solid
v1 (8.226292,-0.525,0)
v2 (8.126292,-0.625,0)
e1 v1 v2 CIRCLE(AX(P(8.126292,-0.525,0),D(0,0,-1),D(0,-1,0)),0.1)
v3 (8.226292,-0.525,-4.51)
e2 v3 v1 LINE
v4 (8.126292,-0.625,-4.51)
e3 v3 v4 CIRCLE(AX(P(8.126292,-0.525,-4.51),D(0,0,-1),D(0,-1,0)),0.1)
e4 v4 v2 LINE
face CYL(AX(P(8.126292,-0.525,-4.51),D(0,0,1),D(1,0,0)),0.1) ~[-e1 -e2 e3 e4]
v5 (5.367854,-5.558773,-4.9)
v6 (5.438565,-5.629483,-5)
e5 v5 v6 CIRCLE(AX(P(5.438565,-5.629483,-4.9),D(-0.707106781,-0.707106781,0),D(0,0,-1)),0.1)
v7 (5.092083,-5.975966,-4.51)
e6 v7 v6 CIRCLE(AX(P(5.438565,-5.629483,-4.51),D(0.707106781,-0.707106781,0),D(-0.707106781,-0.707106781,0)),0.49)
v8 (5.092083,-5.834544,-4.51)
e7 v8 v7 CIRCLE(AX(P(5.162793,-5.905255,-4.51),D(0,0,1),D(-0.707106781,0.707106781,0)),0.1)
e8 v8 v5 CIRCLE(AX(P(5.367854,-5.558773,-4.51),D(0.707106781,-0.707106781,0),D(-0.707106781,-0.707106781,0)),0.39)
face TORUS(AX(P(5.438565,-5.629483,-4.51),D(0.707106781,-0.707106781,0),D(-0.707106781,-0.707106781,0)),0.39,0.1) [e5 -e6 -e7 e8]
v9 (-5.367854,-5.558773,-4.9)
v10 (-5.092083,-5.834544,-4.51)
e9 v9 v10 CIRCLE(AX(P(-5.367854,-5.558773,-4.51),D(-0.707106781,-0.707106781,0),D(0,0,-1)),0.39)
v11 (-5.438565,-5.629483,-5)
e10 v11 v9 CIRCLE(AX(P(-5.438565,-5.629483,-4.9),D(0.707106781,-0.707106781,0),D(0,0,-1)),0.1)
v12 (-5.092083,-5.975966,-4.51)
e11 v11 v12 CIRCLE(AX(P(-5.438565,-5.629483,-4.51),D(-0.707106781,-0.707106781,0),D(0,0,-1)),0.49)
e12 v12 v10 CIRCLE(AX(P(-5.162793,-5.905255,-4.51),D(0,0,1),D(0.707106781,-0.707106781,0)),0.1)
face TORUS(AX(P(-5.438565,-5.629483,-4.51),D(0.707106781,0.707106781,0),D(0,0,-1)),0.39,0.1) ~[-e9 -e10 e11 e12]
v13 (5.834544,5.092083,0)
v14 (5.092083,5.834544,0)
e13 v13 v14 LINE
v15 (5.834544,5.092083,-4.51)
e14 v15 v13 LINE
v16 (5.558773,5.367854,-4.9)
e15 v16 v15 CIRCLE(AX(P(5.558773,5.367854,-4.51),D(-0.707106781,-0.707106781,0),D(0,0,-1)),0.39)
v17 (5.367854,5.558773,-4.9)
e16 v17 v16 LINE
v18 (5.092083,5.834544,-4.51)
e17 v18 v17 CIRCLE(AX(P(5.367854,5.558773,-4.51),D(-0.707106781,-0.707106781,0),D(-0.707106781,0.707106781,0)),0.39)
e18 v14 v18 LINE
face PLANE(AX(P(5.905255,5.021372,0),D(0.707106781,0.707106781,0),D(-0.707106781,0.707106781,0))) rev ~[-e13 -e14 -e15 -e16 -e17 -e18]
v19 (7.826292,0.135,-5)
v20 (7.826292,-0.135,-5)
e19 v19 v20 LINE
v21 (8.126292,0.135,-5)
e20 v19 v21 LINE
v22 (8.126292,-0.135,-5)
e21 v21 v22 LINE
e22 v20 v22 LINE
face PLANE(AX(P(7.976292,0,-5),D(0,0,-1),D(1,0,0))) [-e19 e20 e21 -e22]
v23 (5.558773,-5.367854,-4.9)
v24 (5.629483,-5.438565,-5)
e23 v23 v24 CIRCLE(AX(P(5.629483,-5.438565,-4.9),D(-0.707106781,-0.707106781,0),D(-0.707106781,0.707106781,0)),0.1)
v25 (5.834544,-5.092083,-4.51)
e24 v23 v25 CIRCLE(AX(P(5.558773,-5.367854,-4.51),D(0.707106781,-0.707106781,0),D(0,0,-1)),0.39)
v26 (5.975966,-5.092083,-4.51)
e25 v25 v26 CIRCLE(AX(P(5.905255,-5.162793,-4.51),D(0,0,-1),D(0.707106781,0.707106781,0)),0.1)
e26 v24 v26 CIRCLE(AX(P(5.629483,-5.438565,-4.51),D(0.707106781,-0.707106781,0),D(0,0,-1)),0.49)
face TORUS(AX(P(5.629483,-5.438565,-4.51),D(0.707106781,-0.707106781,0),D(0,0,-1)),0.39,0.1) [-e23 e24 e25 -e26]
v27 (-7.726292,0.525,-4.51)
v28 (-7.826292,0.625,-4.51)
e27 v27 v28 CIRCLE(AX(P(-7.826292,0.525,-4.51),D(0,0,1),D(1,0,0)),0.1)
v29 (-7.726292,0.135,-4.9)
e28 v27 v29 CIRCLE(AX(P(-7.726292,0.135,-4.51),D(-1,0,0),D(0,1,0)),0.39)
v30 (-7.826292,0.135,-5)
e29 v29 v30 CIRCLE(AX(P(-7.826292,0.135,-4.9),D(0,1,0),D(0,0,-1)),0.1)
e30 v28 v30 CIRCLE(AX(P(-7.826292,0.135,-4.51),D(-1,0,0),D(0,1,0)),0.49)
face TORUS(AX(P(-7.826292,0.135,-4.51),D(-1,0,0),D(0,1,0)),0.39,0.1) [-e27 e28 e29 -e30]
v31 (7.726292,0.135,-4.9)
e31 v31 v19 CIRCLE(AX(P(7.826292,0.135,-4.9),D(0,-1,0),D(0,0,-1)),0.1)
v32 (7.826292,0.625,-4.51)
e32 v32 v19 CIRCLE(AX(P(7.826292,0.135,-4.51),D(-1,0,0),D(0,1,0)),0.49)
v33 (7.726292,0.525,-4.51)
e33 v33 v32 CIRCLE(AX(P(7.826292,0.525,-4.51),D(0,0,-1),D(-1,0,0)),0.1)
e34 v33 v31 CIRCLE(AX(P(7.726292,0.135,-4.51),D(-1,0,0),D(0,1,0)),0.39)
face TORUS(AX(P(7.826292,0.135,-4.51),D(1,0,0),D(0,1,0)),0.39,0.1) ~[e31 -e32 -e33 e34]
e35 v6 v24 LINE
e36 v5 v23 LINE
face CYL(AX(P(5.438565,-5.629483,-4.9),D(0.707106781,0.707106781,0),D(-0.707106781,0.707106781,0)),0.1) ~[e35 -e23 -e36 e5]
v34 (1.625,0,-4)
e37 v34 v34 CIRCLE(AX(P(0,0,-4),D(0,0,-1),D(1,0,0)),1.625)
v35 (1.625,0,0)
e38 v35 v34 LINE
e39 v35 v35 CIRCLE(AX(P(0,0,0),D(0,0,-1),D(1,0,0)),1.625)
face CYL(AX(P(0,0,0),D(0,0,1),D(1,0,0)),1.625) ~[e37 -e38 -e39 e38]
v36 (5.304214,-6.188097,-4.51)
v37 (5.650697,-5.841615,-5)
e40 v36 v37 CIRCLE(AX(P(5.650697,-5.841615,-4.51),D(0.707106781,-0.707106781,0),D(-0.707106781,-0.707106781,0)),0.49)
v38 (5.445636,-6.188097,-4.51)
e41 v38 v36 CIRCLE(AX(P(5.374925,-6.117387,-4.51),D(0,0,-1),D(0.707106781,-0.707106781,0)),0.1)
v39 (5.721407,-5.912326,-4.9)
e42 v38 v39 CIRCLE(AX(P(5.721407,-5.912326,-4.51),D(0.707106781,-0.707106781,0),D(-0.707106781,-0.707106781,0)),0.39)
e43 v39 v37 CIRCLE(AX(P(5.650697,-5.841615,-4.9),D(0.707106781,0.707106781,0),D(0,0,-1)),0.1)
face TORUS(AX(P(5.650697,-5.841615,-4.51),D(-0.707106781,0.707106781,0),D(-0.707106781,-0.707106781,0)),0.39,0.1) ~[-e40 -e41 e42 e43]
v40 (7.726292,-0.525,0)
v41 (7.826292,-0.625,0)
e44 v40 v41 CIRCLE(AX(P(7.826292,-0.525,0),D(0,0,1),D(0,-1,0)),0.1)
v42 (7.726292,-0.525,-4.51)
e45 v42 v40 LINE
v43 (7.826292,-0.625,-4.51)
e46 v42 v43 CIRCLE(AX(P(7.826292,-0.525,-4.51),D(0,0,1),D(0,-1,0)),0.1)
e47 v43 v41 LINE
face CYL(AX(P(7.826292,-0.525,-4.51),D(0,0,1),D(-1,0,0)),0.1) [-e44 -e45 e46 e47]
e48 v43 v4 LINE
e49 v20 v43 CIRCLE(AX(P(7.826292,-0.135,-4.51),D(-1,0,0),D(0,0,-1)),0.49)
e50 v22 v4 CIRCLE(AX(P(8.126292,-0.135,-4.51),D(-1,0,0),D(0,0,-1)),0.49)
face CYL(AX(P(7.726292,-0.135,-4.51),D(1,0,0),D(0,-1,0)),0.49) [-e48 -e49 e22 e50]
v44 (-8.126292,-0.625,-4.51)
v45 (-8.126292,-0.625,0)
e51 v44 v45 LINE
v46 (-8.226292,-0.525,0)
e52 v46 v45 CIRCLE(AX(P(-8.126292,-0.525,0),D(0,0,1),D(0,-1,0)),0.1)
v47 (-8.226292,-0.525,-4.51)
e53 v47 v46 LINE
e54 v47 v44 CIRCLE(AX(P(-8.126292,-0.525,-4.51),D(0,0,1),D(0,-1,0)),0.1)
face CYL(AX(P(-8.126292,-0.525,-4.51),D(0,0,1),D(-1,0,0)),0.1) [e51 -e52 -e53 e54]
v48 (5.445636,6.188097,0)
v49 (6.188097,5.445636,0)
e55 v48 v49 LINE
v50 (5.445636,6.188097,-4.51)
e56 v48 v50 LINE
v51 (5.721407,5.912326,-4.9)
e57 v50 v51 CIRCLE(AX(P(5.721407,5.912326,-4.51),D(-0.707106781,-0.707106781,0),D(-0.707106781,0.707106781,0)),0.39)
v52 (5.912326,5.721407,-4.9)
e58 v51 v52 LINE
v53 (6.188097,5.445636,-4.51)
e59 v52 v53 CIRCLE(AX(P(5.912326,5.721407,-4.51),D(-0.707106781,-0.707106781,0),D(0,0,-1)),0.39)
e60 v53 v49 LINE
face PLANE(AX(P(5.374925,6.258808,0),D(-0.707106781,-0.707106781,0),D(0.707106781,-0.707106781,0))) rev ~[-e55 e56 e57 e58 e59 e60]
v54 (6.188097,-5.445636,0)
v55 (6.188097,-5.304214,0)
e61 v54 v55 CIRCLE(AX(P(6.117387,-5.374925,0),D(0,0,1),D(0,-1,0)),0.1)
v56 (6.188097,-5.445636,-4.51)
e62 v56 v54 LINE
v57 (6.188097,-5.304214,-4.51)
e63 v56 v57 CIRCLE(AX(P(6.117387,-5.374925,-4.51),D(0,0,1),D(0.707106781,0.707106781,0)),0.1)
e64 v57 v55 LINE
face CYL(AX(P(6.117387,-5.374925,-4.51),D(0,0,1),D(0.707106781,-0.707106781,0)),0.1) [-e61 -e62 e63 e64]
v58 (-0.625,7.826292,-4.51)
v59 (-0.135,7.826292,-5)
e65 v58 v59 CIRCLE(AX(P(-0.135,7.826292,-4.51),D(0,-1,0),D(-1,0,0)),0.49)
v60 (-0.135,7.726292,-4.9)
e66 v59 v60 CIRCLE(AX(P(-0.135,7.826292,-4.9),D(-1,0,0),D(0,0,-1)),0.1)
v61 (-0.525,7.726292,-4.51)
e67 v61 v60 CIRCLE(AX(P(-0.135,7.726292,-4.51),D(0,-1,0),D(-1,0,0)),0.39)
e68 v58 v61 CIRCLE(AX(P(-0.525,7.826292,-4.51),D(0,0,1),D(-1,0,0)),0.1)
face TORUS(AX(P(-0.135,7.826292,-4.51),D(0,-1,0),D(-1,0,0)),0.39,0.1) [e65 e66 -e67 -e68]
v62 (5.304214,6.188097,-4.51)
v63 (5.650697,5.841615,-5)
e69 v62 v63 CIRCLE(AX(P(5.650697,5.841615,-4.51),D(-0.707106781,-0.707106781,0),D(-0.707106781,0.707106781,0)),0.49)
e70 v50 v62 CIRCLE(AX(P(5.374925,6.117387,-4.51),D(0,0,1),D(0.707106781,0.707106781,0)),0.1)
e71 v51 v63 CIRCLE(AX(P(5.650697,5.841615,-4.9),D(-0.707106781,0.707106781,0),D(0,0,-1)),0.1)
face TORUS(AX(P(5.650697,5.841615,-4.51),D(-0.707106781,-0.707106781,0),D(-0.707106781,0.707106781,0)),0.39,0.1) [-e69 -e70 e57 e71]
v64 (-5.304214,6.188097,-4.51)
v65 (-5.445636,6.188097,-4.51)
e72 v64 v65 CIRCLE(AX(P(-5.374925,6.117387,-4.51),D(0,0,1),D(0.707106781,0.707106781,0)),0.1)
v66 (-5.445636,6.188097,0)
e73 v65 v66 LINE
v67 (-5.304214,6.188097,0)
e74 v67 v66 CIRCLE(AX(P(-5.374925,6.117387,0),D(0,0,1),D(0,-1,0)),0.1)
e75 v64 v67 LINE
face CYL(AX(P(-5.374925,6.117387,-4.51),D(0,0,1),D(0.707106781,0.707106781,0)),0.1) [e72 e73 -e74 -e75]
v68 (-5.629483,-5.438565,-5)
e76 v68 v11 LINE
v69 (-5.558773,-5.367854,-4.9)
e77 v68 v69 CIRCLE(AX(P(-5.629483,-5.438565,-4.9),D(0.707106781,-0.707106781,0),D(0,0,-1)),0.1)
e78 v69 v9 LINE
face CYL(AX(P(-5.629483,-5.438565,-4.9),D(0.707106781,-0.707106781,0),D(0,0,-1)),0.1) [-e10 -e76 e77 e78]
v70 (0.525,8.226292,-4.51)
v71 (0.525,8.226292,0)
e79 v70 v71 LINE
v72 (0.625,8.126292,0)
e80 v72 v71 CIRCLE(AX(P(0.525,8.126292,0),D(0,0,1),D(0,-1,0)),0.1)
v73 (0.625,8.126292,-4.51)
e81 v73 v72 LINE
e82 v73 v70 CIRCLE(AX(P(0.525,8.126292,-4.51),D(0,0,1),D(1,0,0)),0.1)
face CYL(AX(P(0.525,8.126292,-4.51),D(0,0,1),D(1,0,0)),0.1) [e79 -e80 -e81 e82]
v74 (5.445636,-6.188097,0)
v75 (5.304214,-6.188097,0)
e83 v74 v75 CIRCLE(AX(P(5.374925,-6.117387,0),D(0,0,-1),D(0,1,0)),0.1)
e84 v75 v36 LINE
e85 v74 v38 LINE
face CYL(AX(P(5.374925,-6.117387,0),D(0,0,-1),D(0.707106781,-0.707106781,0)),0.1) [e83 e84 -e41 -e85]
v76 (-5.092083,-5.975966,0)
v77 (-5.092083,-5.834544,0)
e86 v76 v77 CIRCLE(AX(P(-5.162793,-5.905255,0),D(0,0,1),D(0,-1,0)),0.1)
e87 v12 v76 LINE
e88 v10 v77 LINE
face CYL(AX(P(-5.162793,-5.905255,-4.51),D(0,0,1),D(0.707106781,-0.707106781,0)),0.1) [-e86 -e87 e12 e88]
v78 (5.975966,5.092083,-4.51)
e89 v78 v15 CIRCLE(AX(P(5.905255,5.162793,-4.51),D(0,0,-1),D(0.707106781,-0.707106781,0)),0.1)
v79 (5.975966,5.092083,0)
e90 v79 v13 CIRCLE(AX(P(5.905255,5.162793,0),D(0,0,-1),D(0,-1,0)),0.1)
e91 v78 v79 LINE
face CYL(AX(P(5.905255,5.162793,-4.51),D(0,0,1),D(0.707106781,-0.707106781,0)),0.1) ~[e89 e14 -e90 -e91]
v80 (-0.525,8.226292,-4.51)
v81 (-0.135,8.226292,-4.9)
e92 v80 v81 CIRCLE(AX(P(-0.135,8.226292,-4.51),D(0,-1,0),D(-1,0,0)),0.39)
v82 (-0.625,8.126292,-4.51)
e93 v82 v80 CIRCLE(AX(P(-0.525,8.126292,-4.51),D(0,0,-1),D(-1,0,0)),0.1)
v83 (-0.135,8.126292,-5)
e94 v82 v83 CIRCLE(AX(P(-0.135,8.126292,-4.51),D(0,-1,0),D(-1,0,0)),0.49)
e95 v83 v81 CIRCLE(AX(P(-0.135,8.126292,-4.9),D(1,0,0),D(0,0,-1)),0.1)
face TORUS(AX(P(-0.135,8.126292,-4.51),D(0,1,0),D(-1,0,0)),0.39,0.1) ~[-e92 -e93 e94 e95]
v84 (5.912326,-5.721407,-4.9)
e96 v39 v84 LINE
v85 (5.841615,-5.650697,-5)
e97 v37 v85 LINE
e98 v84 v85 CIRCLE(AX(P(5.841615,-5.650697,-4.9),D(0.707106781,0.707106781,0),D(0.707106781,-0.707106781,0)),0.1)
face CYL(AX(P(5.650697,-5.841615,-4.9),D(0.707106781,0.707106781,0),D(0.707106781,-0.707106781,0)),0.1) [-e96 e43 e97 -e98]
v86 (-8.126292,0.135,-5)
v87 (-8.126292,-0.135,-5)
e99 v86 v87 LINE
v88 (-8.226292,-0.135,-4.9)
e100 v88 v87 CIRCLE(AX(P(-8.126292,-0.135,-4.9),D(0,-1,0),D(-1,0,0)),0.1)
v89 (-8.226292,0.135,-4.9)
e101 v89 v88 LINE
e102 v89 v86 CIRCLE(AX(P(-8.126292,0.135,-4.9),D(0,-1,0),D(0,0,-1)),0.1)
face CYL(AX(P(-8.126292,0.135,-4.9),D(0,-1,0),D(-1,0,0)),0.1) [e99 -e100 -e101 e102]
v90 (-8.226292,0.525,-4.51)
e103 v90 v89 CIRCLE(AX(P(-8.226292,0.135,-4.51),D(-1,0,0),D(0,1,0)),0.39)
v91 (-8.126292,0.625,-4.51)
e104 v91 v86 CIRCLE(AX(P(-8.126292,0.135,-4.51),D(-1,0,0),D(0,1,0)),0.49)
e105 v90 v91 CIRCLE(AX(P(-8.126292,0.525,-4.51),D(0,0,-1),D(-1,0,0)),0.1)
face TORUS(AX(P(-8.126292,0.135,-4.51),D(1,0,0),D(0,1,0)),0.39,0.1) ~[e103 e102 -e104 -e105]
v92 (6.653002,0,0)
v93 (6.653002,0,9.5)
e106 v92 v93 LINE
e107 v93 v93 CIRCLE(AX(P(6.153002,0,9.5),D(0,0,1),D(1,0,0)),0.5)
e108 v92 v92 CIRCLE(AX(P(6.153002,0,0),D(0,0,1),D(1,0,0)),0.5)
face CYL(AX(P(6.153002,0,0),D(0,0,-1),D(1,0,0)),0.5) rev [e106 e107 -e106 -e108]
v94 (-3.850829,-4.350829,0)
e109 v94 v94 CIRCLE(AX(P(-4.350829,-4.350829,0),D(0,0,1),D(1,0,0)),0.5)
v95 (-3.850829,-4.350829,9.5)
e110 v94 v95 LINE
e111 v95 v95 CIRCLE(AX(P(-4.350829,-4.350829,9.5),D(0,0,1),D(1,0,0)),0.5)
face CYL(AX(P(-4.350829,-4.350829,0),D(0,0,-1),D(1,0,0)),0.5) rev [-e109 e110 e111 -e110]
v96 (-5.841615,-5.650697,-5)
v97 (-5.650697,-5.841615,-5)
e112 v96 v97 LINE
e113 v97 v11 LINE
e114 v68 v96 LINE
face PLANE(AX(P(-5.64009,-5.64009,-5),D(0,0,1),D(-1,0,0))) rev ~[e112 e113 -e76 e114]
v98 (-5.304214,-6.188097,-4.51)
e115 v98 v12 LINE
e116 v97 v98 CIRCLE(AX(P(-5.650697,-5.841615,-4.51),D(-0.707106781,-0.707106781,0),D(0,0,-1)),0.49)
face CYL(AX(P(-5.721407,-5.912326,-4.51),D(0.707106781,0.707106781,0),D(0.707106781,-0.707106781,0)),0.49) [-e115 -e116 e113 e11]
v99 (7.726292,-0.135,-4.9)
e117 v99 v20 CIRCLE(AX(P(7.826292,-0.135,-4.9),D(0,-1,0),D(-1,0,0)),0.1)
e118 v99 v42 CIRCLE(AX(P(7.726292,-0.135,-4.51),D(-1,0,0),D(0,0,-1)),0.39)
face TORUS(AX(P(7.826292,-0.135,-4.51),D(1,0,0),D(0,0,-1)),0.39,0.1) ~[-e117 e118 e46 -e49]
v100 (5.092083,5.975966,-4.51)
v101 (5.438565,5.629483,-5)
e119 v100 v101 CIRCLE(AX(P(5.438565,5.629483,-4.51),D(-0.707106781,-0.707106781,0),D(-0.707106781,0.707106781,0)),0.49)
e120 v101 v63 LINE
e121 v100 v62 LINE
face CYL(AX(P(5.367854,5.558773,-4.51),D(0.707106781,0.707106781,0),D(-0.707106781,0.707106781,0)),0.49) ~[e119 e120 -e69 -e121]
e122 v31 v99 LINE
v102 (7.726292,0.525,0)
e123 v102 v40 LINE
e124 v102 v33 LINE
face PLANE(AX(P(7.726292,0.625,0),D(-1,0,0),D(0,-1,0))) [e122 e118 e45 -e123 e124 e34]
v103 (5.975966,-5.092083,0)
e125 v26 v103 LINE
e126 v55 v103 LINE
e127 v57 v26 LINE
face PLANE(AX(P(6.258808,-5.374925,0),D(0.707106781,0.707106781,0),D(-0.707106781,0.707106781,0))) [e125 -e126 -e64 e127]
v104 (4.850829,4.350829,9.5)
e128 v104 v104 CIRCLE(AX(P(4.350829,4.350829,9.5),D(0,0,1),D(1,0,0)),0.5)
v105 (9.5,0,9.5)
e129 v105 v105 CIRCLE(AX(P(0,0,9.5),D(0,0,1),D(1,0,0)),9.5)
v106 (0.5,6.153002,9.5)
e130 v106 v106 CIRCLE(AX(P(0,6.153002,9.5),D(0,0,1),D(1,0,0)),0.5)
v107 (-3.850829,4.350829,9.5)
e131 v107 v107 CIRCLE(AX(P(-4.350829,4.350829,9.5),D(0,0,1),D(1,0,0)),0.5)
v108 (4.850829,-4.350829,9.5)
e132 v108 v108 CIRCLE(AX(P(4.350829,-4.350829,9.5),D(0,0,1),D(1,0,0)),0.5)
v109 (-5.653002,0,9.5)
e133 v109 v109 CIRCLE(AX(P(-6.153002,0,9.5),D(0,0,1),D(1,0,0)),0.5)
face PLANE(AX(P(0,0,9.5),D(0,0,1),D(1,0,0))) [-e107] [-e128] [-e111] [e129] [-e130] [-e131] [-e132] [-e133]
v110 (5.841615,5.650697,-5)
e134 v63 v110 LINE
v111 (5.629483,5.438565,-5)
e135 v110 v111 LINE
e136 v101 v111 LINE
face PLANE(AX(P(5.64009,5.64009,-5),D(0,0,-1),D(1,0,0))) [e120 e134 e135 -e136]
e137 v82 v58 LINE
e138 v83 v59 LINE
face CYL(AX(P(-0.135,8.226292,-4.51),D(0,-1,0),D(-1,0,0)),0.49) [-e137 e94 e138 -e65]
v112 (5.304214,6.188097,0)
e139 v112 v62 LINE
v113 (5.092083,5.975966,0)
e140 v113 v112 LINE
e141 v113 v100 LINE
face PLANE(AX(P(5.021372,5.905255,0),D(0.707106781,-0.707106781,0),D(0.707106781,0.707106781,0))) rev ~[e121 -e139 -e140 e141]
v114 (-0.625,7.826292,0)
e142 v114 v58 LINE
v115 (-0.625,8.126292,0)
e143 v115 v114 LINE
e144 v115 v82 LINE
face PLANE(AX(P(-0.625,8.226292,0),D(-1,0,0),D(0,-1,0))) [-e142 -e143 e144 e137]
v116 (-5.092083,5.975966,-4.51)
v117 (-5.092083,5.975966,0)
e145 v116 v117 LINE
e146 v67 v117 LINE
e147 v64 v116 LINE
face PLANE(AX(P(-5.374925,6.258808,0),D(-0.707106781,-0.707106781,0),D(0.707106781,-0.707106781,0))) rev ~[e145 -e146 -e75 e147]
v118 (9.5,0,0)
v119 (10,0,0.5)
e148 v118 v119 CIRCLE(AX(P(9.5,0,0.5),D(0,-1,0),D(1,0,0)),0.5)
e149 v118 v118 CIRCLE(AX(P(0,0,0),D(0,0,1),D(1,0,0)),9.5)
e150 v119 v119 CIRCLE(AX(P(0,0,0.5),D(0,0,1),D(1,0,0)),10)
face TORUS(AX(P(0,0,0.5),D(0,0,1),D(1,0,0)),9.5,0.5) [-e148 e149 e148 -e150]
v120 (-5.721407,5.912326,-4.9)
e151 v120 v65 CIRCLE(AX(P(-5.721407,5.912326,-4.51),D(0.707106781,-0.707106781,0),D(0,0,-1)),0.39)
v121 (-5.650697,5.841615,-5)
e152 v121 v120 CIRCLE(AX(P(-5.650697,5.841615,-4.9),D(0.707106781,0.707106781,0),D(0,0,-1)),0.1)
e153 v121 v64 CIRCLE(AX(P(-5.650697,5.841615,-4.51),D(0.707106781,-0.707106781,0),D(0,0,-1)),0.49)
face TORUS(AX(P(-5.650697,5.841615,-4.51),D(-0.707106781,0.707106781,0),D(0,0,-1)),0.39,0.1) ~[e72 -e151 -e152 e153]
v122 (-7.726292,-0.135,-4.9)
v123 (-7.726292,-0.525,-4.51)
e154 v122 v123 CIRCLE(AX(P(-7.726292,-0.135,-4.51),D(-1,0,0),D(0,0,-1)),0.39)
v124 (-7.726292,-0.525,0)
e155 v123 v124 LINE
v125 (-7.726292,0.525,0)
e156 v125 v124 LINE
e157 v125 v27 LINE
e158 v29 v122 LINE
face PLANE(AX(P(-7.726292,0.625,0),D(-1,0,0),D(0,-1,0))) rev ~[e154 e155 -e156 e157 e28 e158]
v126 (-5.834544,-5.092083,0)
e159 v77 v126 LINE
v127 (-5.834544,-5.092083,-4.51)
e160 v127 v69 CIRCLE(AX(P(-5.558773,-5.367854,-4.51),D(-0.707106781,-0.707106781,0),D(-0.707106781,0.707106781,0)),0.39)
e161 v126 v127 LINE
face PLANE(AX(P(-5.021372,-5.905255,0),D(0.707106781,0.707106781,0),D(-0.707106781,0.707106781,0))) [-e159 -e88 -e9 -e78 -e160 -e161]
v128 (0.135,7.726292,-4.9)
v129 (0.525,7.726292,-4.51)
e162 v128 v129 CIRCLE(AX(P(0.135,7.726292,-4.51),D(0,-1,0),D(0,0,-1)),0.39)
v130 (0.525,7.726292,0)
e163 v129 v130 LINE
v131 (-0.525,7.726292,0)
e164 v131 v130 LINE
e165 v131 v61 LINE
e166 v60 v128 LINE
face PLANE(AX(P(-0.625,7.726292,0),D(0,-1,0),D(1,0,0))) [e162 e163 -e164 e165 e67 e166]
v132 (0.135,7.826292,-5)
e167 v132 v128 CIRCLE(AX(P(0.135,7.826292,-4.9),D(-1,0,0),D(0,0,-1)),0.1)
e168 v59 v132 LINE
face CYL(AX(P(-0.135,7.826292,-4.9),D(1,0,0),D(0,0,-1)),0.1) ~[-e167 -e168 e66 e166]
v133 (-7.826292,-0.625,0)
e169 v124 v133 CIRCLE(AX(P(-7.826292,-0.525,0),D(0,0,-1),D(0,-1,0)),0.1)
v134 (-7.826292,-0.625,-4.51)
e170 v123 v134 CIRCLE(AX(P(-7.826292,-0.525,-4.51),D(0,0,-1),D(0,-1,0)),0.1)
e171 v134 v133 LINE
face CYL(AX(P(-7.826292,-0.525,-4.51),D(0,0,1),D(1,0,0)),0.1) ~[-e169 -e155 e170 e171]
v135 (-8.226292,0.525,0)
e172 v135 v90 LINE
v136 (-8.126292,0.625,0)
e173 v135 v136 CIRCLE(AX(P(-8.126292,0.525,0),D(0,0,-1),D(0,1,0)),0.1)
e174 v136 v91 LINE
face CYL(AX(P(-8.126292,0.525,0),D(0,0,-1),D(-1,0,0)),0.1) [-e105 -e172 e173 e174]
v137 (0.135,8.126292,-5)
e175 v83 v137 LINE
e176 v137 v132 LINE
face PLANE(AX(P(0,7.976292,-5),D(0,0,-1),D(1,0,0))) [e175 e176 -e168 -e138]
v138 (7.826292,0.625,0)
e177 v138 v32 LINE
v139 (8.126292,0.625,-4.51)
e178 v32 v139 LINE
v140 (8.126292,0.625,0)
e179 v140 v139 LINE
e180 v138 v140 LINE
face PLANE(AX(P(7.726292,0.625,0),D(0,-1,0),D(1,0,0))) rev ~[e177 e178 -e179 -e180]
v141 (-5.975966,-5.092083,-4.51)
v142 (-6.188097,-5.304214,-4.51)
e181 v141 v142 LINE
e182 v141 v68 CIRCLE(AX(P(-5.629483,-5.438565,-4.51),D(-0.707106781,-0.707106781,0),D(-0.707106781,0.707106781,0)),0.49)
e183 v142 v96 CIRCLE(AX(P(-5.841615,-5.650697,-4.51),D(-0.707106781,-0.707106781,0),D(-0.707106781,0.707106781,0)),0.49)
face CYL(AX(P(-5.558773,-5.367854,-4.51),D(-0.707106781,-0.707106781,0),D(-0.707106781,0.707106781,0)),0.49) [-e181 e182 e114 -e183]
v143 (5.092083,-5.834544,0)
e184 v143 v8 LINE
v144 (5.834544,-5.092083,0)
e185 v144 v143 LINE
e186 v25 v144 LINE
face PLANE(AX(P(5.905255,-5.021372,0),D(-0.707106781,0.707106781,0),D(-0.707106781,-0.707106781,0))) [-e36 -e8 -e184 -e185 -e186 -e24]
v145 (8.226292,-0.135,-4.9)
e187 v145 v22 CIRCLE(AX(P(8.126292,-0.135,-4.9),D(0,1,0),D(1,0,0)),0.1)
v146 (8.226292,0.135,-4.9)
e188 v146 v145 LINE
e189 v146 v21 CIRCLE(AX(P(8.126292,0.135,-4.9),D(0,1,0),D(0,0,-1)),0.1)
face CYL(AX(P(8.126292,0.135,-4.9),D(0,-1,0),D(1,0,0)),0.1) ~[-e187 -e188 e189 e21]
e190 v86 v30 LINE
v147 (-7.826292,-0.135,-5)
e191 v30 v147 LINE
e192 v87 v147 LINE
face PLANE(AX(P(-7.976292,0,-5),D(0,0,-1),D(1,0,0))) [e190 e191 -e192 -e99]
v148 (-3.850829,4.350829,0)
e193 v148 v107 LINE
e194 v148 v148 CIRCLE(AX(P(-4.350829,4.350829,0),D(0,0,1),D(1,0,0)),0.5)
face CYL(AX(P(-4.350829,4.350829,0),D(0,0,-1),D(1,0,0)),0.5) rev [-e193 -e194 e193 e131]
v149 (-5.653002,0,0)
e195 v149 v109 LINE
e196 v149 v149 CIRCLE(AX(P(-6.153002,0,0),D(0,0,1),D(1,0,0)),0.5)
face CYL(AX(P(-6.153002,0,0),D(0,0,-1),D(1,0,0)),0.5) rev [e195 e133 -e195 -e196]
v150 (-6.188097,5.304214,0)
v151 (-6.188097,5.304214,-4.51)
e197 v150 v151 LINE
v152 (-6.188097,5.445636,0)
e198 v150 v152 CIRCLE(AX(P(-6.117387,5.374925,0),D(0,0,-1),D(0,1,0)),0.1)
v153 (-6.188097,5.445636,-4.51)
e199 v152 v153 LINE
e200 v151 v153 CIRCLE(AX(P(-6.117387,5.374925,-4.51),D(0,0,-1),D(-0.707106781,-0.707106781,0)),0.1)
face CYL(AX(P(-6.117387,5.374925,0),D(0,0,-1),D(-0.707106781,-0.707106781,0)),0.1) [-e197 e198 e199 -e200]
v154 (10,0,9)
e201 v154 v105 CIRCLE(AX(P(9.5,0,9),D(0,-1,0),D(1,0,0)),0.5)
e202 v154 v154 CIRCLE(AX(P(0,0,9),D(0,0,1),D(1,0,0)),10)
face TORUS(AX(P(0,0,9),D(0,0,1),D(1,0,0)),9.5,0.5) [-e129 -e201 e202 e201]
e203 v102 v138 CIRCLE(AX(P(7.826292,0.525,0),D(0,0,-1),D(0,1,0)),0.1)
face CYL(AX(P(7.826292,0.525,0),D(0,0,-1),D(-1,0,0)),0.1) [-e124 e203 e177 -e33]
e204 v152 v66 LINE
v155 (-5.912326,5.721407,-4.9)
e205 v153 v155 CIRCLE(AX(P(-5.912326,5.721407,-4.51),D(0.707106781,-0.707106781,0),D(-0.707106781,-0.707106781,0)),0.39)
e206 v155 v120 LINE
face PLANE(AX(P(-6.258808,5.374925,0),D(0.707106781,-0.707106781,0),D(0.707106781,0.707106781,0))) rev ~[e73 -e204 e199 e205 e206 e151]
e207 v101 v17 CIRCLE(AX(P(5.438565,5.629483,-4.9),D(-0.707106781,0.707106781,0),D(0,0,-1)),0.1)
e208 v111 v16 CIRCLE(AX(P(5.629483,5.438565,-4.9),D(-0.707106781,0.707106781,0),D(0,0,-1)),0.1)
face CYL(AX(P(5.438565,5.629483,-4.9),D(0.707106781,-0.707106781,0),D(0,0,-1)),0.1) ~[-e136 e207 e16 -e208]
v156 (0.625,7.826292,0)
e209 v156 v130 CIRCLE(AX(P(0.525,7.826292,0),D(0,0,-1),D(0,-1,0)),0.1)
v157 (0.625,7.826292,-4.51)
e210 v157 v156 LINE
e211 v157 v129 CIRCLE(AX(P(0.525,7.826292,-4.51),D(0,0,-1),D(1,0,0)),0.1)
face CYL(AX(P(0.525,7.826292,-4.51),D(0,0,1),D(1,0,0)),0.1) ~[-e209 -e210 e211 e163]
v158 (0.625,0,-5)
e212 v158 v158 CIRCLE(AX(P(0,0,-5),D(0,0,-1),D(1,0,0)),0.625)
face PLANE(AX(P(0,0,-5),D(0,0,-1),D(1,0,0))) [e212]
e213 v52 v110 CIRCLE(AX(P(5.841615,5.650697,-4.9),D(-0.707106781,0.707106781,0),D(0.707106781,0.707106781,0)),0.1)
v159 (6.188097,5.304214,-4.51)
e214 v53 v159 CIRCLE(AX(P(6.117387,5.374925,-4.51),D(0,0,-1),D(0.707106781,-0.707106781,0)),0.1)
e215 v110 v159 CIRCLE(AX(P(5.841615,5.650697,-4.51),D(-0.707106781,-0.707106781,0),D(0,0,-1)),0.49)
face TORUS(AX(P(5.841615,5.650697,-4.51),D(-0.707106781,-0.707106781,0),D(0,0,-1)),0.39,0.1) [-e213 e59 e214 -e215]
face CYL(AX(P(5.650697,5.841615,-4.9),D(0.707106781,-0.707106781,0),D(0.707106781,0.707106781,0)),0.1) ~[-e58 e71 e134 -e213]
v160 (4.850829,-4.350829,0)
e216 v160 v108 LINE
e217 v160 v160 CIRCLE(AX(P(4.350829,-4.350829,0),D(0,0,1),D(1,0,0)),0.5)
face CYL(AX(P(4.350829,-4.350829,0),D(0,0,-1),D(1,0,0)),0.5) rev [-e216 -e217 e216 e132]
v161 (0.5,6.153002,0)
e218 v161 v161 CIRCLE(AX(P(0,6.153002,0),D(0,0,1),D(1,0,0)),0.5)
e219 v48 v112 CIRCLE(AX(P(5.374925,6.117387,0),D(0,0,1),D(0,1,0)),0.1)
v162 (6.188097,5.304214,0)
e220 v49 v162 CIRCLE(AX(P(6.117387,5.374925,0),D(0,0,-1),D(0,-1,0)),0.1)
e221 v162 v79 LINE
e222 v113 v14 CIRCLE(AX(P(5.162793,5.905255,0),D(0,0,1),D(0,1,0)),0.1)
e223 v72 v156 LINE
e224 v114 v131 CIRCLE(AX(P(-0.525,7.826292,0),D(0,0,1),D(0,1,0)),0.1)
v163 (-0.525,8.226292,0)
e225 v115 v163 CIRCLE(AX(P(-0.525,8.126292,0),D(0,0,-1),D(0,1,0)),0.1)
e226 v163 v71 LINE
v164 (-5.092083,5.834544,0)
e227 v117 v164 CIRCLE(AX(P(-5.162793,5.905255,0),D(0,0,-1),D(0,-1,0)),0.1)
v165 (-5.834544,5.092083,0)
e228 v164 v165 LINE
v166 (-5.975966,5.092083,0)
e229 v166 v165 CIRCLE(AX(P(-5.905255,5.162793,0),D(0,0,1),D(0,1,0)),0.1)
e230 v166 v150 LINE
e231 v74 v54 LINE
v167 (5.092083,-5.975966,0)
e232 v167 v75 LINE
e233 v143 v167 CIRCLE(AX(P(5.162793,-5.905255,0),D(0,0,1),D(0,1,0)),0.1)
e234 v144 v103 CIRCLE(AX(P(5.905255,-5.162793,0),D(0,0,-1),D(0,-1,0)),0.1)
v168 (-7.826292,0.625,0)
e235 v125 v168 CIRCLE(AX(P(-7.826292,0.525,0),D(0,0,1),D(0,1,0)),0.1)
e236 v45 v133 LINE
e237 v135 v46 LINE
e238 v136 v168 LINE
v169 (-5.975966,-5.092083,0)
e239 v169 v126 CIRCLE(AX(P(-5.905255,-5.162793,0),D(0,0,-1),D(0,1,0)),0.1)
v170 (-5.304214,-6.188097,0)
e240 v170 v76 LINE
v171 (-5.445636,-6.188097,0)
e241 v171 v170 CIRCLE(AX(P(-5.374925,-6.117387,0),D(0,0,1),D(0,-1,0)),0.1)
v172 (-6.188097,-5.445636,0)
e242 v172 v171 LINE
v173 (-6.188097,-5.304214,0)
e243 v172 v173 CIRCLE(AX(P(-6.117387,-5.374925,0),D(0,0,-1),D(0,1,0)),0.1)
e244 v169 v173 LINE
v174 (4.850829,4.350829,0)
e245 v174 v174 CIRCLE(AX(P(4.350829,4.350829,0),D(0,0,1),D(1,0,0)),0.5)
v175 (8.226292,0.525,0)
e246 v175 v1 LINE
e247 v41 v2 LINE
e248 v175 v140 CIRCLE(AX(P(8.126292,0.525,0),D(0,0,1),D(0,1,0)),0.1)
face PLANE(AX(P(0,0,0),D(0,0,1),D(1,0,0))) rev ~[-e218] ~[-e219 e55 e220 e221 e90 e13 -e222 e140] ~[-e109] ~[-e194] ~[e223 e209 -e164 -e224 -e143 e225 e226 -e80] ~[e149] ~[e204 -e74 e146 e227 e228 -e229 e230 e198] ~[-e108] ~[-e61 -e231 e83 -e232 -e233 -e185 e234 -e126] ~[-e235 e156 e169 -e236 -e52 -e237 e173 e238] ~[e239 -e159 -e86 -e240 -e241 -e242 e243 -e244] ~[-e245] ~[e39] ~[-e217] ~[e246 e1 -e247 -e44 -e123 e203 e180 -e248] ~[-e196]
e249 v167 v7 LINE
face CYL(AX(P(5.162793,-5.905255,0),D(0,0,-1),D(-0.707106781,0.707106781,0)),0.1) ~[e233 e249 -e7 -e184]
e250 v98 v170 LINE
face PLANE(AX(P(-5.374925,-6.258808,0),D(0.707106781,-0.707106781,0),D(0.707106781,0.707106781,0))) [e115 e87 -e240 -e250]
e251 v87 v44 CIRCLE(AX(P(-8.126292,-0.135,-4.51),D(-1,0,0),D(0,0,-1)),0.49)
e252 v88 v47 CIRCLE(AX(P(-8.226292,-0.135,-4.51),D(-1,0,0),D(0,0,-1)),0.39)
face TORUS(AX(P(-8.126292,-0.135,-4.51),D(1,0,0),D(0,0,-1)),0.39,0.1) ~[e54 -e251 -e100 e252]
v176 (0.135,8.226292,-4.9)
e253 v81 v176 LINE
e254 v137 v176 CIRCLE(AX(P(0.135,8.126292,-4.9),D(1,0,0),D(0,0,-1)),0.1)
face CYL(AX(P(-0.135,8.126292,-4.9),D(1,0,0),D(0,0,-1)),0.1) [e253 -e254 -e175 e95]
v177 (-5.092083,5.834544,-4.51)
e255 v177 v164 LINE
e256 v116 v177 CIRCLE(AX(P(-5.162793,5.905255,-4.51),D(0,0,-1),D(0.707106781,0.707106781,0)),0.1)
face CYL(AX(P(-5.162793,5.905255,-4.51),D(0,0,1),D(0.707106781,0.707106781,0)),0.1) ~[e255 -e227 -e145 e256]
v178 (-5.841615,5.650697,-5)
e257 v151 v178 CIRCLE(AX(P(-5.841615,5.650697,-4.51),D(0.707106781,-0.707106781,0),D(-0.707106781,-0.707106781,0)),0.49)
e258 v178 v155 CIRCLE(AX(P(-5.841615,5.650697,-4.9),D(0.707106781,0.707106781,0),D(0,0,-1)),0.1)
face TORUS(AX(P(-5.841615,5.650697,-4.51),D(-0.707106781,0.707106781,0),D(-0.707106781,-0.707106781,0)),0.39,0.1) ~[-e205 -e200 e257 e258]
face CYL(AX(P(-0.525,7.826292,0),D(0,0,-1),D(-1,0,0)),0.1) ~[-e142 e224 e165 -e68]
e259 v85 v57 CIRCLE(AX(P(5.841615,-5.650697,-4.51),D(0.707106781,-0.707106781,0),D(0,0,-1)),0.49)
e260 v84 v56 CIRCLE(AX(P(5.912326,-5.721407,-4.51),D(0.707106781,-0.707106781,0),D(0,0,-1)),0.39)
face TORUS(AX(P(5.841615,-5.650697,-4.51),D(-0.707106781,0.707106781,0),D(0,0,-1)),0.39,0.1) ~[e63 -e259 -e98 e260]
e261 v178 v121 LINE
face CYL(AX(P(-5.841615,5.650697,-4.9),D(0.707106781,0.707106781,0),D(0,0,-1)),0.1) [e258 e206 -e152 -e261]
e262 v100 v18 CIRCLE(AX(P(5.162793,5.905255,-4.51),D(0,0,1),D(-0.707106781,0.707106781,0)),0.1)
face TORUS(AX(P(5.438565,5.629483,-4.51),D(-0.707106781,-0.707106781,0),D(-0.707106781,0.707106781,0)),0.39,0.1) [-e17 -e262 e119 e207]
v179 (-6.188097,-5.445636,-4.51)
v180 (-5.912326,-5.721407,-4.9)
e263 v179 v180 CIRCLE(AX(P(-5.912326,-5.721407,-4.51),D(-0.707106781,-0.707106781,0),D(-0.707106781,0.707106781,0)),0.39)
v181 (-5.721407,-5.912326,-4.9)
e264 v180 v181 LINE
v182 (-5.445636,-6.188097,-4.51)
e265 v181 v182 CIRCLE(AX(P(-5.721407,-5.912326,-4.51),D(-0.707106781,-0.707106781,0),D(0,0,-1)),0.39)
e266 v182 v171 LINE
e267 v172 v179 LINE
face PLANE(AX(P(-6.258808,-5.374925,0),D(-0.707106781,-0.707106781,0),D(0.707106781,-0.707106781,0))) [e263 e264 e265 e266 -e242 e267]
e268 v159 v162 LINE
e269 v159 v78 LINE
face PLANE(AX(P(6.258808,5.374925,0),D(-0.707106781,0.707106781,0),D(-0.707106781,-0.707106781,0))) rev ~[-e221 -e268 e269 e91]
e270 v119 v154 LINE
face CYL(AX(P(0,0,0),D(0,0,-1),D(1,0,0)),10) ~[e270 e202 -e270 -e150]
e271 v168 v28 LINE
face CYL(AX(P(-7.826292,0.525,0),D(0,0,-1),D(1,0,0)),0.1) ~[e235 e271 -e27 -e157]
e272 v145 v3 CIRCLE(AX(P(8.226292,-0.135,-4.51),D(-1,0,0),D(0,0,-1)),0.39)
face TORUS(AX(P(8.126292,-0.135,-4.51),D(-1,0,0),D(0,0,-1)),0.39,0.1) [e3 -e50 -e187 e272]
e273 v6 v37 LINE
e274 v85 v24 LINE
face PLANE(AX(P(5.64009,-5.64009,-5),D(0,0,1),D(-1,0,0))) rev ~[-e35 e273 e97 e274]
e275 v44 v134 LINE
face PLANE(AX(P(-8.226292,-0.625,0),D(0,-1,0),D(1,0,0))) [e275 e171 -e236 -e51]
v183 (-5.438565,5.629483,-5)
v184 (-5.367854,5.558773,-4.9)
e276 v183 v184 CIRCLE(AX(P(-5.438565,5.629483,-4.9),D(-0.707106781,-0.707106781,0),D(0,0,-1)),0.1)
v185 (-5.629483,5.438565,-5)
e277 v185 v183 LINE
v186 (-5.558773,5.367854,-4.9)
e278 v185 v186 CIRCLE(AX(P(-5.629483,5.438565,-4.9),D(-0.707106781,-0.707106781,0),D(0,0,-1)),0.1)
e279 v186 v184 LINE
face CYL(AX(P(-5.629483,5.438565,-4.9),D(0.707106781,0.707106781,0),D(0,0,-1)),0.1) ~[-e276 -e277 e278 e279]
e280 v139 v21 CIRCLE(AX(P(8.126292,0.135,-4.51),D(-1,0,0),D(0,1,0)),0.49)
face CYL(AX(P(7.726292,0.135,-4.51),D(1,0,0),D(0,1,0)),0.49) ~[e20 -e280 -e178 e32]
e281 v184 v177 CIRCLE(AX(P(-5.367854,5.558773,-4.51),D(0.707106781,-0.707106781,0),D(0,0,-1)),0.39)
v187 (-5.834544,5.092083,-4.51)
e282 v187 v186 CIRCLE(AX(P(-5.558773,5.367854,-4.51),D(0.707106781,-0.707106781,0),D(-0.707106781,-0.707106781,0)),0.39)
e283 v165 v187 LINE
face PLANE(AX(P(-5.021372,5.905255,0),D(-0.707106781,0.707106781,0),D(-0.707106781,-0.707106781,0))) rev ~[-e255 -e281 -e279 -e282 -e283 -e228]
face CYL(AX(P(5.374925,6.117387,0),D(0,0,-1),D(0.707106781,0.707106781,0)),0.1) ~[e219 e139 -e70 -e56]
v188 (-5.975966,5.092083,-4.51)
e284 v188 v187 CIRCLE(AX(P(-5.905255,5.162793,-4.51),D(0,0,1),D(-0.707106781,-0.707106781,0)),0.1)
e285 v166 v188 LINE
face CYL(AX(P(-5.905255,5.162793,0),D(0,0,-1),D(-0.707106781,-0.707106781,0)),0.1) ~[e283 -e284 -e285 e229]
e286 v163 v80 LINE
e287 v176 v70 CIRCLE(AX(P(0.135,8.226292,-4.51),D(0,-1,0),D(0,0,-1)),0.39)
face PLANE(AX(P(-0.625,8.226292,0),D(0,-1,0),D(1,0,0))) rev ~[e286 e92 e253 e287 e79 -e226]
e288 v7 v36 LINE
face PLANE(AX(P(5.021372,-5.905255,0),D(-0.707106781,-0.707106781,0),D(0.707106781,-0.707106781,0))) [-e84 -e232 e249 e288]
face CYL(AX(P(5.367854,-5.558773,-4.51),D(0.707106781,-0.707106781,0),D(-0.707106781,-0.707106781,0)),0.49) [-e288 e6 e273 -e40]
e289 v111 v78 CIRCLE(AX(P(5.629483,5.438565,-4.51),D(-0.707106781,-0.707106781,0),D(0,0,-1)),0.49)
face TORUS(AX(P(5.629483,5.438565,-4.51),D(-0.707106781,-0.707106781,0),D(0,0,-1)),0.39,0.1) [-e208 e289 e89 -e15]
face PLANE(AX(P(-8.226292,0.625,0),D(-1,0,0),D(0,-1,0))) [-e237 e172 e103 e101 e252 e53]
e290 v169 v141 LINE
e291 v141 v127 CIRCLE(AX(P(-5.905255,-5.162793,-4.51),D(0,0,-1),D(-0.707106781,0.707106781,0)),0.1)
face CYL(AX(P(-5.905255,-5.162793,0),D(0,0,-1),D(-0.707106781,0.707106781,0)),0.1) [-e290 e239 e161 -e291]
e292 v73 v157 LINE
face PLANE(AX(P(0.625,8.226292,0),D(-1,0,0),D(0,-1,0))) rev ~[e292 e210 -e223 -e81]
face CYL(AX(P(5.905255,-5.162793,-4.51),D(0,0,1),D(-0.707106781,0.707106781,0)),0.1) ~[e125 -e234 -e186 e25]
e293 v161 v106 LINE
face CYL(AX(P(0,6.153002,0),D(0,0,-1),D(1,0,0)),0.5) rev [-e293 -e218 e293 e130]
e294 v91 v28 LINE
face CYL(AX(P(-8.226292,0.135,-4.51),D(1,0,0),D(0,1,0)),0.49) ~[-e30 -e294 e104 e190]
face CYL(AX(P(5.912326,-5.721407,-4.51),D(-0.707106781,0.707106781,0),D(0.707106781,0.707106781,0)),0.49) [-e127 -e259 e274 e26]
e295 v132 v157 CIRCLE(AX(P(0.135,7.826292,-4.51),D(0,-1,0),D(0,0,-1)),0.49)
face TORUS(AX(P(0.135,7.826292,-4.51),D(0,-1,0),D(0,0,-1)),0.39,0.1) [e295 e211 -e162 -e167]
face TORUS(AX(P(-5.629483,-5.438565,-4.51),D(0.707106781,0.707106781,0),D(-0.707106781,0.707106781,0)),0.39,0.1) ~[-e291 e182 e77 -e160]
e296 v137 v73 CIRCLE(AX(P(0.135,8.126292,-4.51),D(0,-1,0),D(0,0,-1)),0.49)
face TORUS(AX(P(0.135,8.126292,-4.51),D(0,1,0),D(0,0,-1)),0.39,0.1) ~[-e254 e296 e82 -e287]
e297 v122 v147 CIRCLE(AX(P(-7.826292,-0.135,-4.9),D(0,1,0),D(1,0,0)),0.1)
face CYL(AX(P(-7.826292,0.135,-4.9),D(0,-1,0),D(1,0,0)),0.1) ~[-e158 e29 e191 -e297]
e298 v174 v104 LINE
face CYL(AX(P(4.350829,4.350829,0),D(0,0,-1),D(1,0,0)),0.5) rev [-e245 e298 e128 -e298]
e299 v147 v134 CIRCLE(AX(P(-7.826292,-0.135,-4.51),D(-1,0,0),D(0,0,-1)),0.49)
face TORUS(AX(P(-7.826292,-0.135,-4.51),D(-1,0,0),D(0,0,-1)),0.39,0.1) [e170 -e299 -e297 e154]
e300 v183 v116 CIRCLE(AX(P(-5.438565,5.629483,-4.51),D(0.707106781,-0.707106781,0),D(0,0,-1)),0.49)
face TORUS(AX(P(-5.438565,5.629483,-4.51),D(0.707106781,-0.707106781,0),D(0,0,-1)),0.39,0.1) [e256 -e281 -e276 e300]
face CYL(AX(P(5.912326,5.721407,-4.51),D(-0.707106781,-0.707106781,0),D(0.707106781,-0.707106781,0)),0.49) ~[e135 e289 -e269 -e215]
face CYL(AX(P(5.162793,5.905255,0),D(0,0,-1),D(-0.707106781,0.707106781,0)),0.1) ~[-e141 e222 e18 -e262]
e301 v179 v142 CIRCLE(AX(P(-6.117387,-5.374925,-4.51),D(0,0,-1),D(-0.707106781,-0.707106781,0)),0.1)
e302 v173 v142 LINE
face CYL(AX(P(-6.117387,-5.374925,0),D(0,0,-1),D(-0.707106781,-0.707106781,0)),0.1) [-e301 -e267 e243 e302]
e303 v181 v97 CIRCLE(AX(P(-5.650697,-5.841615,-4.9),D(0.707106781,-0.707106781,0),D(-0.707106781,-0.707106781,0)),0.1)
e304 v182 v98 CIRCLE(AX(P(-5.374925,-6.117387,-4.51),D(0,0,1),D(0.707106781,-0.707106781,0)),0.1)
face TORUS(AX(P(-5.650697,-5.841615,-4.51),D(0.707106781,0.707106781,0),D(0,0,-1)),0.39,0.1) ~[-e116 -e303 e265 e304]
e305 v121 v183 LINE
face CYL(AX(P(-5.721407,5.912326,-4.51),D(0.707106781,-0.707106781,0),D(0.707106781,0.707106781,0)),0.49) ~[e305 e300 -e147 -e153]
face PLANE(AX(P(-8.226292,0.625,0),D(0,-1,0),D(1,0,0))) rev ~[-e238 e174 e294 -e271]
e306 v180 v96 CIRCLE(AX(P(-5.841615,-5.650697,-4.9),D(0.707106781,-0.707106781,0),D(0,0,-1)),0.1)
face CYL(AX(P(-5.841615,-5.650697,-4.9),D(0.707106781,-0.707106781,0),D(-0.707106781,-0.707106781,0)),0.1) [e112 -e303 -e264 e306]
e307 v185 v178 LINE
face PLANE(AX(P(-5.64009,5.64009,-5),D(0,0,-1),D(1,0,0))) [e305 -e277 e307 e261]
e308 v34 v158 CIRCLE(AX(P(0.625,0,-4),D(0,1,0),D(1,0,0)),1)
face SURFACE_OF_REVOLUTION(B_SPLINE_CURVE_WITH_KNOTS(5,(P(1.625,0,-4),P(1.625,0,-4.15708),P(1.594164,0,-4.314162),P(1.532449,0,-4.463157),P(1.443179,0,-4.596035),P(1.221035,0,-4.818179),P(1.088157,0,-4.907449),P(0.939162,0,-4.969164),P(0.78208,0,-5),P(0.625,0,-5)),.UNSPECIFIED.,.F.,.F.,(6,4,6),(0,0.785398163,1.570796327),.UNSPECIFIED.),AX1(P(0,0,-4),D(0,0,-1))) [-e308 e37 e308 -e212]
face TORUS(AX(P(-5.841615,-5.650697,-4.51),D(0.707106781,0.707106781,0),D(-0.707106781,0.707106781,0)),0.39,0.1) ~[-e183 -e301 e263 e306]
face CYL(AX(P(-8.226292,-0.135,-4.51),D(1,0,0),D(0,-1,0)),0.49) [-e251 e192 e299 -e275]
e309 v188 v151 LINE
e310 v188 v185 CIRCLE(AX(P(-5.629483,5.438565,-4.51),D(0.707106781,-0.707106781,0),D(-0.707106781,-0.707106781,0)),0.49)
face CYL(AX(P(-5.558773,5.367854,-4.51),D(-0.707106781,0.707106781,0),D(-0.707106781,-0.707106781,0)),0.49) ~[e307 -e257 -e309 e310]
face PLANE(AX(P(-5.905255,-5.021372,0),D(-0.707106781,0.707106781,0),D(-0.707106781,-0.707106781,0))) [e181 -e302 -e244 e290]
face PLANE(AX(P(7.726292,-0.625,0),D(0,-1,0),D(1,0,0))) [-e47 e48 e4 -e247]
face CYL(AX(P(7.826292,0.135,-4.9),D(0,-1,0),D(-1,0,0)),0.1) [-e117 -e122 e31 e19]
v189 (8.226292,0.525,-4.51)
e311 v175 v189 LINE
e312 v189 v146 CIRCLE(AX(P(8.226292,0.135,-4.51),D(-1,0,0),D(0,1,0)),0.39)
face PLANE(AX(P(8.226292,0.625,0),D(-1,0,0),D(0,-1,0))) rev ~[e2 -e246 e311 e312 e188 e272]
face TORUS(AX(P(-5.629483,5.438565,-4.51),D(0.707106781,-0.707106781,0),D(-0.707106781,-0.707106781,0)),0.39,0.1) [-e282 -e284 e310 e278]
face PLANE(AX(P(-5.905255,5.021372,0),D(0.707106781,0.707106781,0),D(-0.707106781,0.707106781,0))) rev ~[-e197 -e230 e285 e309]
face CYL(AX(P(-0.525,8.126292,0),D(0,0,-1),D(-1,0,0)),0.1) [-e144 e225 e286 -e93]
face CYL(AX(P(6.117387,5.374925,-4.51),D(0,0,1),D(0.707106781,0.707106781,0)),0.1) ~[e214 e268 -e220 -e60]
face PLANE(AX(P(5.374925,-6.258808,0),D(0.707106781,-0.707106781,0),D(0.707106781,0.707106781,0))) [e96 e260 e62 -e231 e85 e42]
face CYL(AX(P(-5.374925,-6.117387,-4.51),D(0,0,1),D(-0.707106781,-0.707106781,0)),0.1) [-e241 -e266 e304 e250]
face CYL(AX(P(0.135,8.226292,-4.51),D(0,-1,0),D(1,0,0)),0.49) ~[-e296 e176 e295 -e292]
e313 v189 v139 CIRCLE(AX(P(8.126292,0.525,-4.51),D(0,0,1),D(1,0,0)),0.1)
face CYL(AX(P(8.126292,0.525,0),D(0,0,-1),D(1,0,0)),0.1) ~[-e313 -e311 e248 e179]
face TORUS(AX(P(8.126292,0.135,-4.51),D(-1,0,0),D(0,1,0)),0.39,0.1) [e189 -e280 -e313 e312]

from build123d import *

# Parameters (mm, degrees)
SKETCH_R      = 10
SKETCH_R_2    = 0.5
PAD_DEPTH     = 9.5
SKETCH001_R   = 1.625
SKETCH001_W   = 0.5
SKETCH001_H   = 1.25
SKETCH001_W_2 = 1.25
SKETCH001_H_2 = 0.5
PAD001_DEPTH  = 5
FILLET_R      = 0.49
FILLET001_R   = 0.1
FILLET002_R   = 1
FILLET003_R   = 0.5


with BuildPart() as part:
    # Sketch → Pad (new body)
    with BuildSketch(Plane.XY):
        Circle(SKETCH_R)
        with Locations((4.350829, -4.350829)):
            Circle(SKETCH_R_2, mode=Mode.SUBTRACT)
        with Locations((6.153002, 0)):
            Circle(SKETCH_R_2, mode=Mode.SUBTRACT)
        with Locations((4.350829, 4.350829)):
            Circle(SKETCH_R_2, mode=Mode.SUBTRACT)
        with Locations((0, 6.153002)):
            Circle(SKETCH_R_2, mode=Mode.SUBTRACT)
        with Locations((-4.350829, 4.350829)):
            Circle(SKETCH_R_2, mode=Mode.SUBTRACT)
        with Locations((-6.153002, 0)):
            Circle(SKETCH_R_2, mode=Mode.SUBTRACT)
        with Locations((-4.350829, -4.350829)):
            Circle(SKETCH_R_2, mode=Mode.SUBTRACT)
    extrude(amount=PAD_DEPTH)

    # Sketch001 (on Face9 of Pad) → Pad001 (join)
    with BuildSketch(Plane(origin=(0, 0, 0), x_dir=(1, 0, 0), z_dir=(0, 0, -1))):
        Circle(SKETCH001_R)
        Polygon((-6.258808, 5.374925), (-5.374925, 6.258808), (-5.021372, 5.905255), (-5.905255, 5.021372), align=None)
        with Locations((-7.976292, 0)):
            Rectangle(SKETCH001_W, SKETCH001_H)
        Polygon((-6.258808, -5.374925), (-5.374925, -6.258808), (-5.021372, -5.905255), (-5.905255, -5.021372), align=None)
        with Locations((0, -7.976292)):
            Rectangle(SKETCH001_W_2, SKETCH001_H_2)
        Polygon((5.905255, -5.021372), (5.021372, -5.905255), (5.374925, -6.258808), (6.258808, -5.374925), align=None)
        with Locations((7.976292, 0)):
            Rectangle(SKETCH001_W, SKETCH001_H)
        Polygon((5.374925, 6.258808), (6.258808, 5.374925), (5.905255, 5.021372), (5.021372, 5.905255), align=None)
    extrude(amount=PAD001_DEPTH)

    # Fillet
    fillet_edges = [part.edges().sort_by_distance(p)[0] for p in [
        (5.198148, -6.082032, -5),
        (6.082032, -5.198148, -5),
        (7.976292, -0.625, -5),
        (7.976292, 0.625, -5),
        (6.082032, 5.198148, -5),
        (5.198148, 6.082032, -5),
        (0.625, 7.976292, -5),
        (-0.625, 7.976292, -5),
        (-5.198148, 6.082032, -5),
        (-6.082032, 5.198148, -5),
        (-7.976292, 0.625, -5),
        (-7.976292, -0.625, -5),
        (-6.082032, -5.198148, -5),
        (-5.198148, -6.082032, -5),
    ]]
    fillet(fillet_edges, radius=FILLET_R)

    # Fillet001
    fillet001_edges = [part.edges().sort_by_distance(p)[0] for p in [
        (-6.258808, -5.374925, -2.255),
        (-5.905255, -5.021372, -2.255),
        (-8.226292, 0.625, -2.255),
        (-7.726292, 0.625, -2.255),
        (-5.905255, 5.021372, -2.255),
        (-6.258808, 5.374925, -2.255),
        (-0.625, 7.726292, -2.255),
        (-0.625, 8.226292, -2.255),
        (5.021372, 5.905255, -2.255),
        (5.374925, 6.258808, -2.255),
        (7.726292, 0.625, -2.255),
        (8.226292, 0.625, -2.255),
        (5.374925, -6.258808, -2.255),
        (5.021372, -5.905255, -2.255),
    ]]
    fillet(fillet001_edges, radius=FILLET001_R)

    # Fillet002
    fillet002_edges = [part.edges().sort_by_distance(p)[0] for p in [
        (-1.625, 0, -5),
    ]]
    fillet(fillet002_edges, radius=FILLET002_R)

    # Fillet003
    fillet003_edges = [part.edges().sort_by_distance(p)[0] for p in [
        (-10, 0, 0),
        (-10, 0, 9.5),
    ]]
    fillet(fillet003_edges, radius=FILLET003_R)


solid = part.part
